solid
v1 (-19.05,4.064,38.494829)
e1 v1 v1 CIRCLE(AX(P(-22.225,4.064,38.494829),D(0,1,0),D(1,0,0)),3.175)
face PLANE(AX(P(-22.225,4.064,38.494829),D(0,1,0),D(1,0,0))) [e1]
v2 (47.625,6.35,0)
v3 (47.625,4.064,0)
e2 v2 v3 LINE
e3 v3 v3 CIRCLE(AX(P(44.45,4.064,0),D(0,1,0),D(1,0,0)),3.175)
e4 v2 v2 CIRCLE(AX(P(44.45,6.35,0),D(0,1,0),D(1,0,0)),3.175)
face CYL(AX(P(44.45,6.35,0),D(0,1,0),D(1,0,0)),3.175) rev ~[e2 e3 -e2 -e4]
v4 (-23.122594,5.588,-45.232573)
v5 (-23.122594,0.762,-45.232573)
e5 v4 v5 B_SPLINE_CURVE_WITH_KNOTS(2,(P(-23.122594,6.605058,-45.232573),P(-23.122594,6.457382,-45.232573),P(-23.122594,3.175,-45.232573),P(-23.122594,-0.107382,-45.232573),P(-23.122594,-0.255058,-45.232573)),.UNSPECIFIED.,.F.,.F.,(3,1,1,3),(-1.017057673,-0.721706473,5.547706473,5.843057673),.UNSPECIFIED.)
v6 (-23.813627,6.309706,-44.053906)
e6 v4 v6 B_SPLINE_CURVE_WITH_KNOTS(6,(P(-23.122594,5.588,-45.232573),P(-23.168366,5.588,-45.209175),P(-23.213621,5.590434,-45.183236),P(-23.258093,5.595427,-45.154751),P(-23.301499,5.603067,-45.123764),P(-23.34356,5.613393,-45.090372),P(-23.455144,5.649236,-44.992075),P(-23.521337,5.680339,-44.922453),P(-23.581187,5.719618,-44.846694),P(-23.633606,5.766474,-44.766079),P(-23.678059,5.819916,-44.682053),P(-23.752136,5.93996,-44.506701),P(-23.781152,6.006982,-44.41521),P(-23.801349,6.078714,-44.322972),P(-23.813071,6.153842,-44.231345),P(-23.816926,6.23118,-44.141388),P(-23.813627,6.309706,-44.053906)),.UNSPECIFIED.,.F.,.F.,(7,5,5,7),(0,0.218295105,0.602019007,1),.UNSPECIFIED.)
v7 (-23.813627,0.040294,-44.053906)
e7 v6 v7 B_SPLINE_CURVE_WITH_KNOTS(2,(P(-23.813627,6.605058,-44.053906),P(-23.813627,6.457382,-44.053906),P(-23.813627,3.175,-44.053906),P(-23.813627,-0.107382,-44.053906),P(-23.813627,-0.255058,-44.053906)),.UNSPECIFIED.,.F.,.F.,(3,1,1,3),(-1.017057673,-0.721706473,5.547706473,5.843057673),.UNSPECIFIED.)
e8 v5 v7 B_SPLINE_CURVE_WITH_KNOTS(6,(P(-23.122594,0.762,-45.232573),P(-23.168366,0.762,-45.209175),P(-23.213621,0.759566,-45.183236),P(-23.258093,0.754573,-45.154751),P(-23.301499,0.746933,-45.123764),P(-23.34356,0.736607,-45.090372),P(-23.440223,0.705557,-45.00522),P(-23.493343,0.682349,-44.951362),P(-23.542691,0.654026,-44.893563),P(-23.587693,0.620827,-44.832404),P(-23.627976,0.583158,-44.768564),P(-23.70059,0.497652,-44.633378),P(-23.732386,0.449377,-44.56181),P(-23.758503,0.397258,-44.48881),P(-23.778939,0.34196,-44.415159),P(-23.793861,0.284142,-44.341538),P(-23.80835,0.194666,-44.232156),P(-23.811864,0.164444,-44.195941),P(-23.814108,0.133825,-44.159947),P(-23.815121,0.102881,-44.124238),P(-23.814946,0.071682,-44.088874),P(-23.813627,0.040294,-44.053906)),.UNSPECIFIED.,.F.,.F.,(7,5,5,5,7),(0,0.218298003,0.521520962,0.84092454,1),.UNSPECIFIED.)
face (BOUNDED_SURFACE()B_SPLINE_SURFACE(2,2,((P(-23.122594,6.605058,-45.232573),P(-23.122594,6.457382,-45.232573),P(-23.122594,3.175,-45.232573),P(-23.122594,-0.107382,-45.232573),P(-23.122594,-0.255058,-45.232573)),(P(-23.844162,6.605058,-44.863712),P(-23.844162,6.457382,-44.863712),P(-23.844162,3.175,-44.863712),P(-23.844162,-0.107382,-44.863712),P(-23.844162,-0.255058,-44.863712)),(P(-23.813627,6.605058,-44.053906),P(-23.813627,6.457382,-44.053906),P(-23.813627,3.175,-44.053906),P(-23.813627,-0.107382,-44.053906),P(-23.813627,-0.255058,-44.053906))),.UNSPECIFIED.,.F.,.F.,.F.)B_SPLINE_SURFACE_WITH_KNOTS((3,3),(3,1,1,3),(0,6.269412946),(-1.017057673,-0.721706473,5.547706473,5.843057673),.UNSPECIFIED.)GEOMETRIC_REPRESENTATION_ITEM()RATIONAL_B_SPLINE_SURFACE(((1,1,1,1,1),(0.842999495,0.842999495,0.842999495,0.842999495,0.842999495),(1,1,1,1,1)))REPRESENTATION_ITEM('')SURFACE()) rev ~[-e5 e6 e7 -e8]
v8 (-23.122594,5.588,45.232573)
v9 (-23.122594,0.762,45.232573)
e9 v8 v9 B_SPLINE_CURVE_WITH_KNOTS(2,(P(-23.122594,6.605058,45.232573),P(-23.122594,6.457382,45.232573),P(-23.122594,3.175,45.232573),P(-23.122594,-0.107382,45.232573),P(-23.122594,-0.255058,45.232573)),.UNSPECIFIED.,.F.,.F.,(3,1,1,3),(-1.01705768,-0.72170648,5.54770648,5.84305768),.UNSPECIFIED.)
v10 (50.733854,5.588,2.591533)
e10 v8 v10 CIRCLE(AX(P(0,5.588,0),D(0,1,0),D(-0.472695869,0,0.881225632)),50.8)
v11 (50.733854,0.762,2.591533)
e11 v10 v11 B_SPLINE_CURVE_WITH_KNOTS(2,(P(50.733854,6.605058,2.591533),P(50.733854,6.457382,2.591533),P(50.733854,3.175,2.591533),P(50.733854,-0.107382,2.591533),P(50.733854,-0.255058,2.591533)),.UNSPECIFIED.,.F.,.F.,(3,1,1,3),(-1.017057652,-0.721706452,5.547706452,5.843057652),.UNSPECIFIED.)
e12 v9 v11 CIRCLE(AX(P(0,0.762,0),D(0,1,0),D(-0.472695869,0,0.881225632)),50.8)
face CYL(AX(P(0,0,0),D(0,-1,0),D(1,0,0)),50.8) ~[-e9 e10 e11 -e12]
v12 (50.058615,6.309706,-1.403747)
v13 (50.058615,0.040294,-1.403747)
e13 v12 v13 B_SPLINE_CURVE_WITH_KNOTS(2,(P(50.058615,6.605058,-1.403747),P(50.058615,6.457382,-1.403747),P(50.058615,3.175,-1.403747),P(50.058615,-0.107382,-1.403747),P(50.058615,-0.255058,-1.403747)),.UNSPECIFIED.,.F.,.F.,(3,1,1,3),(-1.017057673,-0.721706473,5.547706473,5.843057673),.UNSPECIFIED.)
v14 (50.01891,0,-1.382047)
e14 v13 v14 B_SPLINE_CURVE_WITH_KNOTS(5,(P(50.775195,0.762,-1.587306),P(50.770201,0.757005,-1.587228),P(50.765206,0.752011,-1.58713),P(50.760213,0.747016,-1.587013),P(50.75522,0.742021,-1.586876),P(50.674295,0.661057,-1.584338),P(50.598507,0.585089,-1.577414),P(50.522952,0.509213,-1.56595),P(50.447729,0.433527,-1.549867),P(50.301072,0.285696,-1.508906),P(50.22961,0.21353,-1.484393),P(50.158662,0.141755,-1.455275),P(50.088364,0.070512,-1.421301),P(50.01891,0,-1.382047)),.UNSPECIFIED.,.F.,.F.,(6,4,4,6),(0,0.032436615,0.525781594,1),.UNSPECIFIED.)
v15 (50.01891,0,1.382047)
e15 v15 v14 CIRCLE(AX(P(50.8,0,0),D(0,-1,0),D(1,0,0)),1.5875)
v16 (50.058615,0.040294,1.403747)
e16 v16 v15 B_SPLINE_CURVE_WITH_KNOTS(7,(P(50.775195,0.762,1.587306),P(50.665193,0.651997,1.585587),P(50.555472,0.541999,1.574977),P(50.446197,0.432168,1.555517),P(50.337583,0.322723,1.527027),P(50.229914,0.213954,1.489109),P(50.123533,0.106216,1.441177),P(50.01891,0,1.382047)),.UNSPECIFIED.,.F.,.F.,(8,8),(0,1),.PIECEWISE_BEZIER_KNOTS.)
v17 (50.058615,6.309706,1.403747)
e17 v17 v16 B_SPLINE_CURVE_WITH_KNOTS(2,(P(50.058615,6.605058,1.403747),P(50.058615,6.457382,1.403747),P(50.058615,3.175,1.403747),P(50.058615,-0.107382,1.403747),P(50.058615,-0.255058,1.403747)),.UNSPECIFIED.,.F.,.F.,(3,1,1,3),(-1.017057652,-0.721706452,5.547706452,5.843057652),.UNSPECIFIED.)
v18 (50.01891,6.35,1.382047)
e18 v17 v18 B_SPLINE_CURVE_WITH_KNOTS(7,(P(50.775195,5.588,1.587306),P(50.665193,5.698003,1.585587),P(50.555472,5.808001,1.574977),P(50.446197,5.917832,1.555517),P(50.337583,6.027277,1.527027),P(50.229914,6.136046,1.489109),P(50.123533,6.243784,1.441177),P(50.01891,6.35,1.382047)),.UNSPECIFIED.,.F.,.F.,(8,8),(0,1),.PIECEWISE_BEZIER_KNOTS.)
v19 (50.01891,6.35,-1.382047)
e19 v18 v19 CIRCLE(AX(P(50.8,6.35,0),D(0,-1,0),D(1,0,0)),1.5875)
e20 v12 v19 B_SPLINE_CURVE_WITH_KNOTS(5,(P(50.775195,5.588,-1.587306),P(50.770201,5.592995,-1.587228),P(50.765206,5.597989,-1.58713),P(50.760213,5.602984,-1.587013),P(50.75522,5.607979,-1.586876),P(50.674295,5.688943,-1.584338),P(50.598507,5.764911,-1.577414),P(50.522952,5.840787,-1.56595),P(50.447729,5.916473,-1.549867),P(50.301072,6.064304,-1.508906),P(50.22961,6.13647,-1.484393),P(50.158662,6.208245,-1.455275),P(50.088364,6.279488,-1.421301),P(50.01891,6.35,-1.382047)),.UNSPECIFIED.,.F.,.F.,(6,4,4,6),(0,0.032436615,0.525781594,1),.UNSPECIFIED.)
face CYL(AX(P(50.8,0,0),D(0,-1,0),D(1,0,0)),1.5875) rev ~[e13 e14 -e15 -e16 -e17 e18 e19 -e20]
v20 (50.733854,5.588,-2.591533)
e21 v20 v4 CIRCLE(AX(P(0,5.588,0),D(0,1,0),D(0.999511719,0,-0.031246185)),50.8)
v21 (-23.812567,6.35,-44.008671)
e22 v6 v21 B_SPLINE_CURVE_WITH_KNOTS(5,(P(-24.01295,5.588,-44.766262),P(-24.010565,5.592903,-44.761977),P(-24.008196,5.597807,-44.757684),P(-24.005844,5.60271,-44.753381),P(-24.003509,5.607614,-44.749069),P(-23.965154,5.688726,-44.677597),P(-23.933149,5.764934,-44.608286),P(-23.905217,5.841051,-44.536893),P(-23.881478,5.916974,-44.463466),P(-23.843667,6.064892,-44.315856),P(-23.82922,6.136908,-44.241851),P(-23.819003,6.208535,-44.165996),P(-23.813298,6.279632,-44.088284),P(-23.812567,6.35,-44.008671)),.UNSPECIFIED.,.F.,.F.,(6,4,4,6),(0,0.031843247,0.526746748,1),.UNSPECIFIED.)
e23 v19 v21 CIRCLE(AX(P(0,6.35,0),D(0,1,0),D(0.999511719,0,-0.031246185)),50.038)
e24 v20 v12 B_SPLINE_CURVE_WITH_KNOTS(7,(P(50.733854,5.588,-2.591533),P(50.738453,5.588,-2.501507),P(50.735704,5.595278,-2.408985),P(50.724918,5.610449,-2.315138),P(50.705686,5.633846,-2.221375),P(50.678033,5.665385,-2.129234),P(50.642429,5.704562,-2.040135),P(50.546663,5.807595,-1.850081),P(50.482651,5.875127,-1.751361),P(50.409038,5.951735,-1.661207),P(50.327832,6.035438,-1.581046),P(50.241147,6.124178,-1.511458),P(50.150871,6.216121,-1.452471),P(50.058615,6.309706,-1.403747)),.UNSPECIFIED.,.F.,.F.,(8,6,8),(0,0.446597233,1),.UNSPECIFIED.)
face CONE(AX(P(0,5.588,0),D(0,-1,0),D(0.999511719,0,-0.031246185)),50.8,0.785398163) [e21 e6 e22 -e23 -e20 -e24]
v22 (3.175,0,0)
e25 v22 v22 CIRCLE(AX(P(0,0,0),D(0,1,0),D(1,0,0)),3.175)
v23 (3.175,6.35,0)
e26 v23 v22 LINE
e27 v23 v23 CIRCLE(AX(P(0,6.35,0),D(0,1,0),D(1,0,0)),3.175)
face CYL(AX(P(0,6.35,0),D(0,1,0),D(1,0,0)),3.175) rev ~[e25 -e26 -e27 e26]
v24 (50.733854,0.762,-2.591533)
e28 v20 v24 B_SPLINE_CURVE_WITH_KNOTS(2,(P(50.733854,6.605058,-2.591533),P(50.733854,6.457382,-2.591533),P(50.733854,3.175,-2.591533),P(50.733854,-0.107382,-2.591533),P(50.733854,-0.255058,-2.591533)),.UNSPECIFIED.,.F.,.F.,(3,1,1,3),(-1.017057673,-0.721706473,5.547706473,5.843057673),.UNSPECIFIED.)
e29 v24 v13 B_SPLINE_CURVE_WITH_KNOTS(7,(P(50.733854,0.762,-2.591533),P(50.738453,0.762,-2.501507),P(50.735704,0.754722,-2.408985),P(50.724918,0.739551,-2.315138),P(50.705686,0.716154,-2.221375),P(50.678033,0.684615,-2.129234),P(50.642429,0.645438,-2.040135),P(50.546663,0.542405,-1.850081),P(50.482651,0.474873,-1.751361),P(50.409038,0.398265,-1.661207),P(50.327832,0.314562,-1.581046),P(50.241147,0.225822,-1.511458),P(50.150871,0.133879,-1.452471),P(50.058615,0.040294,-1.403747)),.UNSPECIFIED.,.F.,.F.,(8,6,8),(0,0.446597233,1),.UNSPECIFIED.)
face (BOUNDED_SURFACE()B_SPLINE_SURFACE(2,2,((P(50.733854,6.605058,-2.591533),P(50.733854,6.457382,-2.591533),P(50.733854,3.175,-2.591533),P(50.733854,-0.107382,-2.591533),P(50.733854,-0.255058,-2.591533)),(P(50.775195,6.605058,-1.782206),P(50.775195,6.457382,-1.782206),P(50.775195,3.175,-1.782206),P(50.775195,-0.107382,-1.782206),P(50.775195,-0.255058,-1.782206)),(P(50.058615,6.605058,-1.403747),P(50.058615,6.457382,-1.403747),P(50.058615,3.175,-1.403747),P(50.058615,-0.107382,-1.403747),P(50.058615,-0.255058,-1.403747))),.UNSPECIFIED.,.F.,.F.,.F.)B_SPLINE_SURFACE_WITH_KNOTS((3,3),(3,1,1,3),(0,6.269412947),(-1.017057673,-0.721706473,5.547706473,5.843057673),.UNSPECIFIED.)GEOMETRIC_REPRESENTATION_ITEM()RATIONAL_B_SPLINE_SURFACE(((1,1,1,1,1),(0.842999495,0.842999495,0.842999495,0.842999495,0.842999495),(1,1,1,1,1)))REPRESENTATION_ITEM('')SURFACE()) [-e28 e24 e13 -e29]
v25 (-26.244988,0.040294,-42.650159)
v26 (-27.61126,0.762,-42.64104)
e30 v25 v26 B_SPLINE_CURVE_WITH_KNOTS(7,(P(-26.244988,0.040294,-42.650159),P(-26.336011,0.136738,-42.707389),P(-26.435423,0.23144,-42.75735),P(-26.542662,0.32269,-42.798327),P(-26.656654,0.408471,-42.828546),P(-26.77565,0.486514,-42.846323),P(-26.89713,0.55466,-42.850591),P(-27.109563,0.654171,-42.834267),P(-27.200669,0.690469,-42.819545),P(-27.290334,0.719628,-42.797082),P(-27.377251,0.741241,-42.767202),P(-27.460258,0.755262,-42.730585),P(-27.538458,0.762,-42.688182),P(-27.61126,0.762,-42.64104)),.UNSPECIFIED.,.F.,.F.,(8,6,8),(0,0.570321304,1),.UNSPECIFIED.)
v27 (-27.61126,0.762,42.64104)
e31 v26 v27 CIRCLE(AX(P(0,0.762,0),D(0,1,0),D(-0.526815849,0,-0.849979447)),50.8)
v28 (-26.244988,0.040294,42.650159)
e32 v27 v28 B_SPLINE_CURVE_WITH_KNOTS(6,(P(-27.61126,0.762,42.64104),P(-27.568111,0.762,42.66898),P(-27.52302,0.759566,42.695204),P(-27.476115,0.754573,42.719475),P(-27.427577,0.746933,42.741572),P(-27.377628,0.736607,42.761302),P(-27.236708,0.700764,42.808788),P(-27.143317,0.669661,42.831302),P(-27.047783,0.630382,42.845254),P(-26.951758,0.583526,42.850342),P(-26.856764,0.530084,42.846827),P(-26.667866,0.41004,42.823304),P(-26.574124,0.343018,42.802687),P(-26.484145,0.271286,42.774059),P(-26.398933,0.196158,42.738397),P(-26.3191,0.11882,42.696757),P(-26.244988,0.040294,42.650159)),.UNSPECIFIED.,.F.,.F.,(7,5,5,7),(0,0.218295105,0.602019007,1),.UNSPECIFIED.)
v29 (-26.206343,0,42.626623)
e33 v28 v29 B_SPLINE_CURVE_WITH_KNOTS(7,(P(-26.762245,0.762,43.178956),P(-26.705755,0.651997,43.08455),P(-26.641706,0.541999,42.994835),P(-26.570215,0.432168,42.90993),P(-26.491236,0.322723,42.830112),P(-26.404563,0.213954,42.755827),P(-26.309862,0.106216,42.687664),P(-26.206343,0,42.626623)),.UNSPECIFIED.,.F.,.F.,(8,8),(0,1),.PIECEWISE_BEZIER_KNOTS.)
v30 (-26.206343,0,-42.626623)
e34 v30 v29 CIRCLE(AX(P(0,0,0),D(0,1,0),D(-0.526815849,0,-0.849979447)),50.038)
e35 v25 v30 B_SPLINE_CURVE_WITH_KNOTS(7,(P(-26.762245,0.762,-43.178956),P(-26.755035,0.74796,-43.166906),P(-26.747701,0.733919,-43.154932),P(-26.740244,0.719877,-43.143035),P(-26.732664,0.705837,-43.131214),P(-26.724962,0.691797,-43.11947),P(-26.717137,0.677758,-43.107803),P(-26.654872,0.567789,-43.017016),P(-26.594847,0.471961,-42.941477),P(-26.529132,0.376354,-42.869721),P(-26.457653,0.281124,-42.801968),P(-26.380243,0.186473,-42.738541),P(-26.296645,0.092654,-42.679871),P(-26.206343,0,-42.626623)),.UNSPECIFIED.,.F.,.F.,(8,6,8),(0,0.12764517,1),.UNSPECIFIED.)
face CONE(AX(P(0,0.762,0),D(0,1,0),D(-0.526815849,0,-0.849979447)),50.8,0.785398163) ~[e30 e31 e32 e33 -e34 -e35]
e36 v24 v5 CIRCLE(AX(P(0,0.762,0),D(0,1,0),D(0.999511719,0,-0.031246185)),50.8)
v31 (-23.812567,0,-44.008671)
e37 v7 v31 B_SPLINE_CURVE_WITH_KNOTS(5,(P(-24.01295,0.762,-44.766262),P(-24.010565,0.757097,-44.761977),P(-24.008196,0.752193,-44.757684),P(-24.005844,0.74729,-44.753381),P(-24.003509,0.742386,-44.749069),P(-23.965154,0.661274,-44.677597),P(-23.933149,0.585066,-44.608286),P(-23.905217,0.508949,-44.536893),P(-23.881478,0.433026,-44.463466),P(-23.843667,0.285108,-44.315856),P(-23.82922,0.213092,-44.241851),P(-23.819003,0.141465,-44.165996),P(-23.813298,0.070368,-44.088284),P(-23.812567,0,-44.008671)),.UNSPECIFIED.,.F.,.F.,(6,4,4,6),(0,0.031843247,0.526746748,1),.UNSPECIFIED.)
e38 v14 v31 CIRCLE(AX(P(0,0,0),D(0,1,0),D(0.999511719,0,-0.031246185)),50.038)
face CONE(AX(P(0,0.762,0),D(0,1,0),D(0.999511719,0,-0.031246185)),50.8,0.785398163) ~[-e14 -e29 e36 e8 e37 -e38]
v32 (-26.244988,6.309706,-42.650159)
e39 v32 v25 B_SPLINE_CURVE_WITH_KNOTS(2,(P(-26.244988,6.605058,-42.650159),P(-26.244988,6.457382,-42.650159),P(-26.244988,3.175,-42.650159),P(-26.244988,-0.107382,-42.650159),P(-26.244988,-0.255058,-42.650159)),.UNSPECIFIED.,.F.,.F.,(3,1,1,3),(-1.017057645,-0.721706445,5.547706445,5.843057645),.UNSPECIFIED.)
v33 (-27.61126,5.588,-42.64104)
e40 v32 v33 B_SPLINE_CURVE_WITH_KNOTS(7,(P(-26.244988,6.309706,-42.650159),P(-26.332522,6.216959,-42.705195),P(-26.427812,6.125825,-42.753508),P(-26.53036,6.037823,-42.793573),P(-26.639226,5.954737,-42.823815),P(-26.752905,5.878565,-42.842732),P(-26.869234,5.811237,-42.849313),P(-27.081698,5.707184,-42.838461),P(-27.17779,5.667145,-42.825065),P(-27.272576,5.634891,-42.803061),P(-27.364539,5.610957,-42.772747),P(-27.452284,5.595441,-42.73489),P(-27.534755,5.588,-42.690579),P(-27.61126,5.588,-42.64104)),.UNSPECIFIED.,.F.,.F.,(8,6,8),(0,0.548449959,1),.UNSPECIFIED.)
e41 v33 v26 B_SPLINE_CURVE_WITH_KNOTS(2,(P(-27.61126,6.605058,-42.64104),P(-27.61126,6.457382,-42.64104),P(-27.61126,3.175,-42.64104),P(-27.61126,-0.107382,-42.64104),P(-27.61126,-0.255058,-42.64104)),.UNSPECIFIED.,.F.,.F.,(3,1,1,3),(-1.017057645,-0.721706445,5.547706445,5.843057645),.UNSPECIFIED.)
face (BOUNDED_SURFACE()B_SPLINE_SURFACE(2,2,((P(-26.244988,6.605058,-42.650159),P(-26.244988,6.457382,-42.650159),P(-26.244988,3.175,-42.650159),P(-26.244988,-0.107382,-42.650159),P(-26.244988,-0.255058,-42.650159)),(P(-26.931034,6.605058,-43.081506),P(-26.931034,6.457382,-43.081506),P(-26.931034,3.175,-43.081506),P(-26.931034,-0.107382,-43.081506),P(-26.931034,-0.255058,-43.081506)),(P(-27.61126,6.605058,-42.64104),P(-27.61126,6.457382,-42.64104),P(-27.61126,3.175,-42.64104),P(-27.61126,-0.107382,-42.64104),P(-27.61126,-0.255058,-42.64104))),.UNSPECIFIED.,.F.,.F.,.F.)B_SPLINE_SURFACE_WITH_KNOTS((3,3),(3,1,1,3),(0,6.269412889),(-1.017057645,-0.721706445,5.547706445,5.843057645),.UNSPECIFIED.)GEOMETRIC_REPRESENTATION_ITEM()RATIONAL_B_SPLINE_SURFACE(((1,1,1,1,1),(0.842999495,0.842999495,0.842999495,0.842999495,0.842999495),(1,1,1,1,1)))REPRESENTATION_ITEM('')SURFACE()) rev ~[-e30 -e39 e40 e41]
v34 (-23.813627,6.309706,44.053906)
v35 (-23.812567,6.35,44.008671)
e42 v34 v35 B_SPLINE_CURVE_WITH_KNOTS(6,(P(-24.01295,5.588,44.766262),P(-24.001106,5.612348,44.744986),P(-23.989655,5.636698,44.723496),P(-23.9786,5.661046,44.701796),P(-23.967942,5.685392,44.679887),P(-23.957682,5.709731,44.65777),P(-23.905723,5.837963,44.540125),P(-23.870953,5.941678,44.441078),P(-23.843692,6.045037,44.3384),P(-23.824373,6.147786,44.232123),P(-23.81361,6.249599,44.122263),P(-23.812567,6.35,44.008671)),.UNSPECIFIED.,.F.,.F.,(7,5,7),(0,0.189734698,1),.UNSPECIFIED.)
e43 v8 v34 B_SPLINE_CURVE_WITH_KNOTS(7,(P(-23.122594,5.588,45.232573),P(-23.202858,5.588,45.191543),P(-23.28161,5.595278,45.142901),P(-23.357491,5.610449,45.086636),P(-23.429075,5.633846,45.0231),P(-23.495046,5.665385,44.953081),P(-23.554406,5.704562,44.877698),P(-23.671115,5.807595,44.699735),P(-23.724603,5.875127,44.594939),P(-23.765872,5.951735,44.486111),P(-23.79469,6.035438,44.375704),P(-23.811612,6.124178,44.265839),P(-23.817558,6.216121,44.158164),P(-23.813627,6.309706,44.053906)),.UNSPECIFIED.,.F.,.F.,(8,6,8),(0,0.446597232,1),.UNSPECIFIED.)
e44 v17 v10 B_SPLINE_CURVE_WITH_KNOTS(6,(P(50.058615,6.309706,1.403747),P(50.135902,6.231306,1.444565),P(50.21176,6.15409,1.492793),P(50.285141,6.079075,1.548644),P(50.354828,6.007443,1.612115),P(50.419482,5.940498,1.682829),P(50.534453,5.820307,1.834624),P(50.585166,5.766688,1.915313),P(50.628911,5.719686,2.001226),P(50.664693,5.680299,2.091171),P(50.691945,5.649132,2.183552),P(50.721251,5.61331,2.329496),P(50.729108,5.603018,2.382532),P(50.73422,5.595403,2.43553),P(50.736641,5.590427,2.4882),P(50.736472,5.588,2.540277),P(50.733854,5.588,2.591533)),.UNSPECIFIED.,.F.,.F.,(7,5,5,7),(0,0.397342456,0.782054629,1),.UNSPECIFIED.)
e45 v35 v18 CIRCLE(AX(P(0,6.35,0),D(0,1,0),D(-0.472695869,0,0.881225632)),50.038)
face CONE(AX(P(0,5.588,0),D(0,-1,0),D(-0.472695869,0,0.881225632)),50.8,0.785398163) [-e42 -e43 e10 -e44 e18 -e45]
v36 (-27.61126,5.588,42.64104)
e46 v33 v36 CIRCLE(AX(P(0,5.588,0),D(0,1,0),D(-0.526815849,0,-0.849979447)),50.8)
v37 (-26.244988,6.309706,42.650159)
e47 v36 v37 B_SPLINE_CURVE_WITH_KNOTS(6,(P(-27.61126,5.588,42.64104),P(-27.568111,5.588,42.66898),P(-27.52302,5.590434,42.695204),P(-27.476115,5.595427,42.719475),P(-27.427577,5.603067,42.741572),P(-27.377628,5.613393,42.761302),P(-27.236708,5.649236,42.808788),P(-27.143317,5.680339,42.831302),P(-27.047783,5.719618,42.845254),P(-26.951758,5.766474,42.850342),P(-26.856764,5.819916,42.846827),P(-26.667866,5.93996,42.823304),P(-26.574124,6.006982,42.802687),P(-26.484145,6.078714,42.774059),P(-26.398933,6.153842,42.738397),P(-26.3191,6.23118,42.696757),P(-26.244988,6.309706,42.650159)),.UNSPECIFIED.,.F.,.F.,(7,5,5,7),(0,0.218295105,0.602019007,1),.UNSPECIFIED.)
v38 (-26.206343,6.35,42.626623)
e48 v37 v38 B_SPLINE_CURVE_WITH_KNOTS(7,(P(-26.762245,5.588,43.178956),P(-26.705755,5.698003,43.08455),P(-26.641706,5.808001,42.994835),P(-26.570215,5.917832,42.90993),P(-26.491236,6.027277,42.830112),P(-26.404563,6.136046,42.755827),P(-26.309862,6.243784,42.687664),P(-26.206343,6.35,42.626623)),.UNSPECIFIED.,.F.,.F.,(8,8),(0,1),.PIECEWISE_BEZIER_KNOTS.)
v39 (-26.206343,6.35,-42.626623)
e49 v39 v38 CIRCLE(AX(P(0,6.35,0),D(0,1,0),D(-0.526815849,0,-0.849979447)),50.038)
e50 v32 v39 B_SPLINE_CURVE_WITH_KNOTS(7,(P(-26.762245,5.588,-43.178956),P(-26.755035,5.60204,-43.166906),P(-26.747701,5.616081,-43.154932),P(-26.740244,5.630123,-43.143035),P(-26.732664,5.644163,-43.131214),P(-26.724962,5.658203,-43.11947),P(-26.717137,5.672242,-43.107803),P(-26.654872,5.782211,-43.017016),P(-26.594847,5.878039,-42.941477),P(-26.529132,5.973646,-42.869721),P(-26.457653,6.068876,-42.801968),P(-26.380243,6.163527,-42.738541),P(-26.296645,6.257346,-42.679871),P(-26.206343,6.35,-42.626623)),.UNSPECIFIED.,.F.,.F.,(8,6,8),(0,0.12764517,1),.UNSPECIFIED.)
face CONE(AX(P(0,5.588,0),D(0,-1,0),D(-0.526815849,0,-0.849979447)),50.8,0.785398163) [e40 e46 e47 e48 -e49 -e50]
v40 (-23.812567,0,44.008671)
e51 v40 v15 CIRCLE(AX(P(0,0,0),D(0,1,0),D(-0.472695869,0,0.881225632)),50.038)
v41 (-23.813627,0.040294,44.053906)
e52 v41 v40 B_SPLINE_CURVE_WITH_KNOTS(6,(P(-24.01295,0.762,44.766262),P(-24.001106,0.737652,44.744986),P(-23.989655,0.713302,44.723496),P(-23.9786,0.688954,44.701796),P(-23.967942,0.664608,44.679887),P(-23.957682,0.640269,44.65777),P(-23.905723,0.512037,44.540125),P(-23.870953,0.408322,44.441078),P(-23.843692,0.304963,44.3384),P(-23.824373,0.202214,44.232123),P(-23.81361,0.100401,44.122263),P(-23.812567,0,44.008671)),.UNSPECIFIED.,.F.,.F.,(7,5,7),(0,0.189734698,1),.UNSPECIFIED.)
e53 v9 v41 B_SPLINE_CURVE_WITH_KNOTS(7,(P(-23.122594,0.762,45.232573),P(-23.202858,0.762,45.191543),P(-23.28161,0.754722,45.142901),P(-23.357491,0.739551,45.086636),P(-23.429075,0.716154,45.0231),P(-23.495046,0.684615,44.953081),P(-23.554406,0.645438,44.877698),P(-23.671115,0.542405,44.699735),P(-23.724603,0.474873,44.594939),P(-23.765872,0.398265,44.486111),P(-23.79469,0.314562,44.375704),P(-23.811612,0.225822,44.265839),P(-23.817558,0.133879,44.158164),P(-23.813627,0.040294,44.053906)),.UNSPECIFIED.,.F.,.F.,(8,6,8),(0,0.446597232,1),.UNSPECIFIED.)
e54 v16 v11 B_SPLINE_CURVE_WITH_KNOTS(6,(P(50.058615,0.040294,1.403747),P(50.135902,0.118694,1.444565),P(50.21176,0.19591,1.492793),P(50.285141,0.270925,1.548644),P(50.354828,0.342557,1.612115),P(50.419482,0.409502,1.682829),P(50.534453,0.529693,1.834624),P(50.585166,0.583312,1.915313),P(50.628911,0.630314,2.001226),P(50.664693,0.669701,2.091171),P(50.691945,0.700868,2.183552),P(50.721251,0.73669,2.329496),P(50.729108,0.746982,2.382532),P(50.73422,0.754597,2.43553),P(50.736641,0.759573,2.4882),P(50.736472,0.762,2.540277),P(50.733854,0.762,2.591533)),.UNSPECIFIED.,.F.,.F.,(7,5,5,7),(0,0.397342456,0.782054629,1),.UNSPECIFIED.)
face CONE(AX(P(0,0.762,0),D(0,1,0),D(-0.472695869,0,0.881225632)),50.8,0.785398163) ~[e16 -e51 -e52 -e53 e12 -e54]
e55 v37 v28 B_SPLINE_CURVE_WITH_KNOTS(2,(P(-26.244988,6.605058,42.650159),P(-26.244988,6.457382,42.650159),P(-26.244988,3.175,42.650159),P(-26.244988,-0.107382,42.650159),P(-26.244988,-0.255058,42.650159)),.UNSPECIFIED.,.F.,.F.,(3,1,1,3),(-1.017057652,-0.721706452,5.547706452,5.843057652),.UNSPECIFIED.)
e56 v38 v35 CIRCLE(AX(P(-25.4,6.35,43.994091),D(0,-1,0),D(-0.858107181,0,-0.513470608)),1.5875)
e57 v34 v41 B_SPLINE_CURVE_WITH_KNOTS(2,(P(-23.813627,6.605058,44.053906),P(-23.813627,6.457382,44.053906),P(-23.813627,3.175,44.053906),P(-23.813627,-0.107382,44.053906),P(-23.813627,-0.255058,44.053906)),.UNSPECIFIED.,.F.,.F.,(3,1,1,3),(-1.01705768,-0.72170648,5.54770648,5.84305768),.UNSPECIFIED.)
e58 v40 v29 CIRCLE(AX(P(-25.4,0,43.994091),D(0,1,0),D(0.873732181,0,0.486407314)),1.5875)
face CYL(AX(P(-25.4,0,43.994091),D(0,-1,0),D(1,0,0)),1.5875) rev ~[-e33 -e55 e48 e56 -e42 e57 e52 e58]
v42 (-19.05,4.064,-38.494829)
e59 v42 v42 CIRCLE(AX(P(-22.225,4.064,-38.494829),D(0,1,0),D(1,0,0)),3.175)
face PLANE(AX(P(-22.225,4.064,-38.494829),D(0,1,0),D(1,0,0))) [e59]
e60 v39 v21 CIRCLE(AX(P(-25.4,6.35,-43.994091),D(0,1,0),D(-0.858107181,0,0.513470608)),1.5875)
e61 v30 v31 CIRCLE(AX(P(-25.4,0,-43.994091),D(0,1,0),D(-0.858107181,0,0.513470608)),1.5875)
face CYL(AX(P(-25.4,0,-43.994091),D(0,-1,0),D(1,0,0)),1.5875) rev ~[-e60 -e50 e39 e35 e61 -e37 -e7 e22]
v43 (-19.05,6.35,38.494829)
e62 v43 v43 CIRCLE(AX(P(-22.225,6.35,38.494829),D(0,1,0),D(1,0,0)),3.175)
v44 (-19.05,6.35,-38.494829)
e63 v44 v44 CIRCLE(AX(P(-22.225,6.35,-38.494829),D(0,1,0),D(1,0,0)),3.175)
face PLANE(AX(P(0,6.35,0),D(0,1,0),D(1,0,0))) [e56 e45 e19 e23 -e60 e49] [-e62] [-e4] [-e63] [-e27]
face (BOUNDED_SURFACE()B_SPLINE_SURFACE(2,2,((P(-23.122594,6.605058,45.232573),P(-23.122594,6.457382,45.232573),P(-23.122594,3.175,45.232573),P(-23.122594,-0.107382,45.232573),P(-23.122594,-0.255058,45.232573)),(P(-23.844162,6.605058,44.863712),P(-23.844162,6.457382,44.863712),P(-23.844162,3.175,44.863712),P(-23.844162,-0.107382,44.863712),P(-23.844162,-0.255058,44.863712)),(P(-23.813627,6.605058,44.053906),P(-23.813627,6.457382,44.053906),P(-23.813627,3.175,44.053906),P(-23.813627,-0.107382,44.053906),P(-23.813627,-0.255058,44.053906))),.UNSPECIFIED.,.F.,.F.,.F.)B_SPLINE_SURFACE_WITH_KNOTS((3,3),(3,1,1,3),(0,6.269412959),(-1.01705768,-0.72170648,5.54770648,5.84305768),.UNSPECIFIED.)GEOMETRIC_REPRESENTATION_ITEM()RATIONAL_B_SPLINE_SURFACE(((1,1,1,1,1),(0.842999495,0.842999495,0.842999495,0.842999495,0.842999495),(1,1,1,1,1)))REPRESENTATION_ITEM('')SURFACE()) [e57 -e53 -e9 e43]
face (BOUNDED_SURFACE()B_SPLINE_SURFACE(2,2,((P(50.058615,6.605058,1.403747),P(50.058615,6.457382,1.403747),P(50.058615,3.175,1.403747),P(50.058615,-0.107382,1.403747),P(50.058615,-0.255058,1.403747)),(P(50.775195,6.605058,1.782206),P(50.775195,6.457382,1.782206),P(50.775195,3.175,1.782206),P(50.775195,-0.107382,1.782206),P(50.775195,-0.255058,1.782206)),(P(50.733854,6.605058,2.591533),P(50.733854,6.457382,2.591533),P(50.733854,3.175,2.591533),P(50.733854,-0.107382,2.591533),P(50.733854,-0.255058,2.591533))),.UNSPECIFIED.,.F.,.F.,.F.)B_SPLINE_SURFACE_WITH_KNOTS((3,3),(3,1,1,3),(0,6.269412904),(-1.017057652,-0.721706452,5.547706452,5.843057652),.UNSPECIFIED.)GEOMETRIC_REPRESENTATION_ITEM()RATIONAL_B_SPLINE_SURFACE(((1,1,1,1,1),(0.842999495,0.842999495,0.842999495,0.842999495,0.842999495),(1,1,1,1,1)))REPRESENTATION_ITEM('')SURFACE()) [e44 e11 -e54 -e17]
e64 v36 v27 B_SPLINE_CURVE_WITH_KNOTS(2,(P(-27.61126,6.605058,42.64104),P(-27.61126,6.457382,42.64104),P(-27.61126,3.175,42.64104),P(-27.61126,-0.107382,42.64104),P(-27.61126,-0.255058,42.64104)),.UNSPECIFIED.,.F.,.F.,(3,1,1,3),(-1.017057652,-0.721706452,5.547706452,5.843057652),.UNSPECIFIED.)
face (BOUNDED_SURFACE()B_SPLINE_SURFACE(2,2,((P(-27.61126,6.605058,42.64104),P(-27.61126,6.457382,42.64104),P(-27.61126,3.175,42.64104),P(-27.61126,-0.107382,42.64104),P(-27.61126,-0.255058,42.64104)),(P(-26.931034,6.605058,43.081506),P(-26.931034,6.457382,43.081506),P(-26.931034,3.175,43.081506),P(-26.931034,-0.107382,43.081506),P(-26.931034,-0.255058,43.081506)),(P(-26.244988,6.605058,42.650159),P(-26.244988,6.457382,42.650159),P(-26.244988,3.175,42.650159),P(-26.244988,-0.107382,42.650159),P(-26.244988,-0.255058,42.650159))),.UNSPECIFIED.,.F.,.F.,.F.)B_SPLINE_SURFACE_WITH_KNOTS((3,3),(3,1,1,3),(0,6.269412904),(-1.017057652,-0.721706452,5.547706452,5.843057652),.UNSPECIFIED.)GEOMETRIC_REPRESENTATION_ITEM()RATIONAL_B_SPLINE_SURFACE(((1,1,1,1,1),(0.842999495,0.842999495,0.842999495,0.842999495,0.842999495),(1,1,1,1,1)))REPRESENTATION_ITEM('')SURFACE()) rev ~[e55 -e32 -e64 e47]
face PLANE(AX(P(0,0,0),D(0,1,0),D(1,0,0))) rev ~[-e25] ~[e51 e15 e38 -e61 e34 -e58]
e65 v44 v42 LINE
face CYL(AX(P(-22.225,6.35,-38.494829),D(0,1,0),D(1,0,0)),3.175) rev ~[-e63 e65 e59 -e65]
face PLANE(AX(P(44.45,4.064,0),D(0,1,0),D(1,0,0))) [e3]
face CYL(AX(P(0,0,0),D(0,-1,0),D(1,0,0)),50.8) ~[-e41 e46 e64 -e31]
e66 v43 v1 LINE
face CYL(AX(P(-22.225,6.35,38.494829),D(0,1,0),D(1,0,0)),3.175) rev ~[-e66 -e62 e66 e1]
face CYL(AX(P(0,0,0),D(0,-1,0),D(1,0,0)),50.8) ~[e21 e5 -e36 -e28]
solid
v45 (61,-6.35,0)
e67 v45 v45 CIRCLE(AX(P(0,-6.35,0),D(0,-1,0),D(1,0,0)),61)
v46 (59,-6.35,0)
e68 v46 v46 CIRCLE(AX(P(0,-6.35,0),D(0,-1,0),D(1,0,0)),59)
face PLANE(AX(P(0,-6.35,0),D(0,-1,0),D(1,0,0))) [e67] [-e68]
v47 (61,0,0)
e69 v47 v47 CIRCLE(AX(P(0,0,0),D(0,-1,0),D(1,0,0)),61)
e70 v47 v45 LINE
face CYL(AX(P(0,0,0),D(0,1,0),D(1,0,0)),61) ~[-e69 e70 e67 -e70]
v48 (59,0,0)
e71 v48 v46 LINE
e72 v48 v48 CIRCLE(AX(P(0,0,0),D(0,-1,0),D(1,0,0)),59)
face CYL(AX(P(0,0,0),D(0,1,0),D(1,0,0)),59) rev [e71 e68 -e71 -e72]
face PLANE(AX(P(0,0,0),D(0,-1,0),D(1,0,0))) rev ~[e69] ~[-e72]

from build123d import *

# Parameters (mm, degrees)
SKETCH1_R               = 50.8
BOSS_EXTRUDE1_DEPTH     = 6.35
SKETCH2_R               = 3.175
CUT_EXTRUDE1_DEPTH      = 2.286
SKETCH3_R               = 3.175
CUT_EXTRUDE2_DEPTH      = 1
CUT_EXTRUDE2_DEPTH_BACK = 7.35
SKETCH4_R               = 1.5875
CUT_EXTRUDE3_DEPTH      = 7.35
CHAMFER1_SIZE           = 0.762
FILLET1_R               = 1.27
SKETCH5_R               = 61
SKETCH5_R_2             = 59
BOSS_EXTRUDE2_DEPTH     = 6.35


with BuildPart() as part:
    # Sketch1 → Boss-Extrude1 (new body)
    with BuildSketch(Plane(origin=(0, 0, 0), x_dir=(1, 0, 0), z_dir=(0, 1, 0))):
        Circle(SKETCH1_R)
    extrude(amount=BOSS_EXTRUDE1_DEPTH)

    # Sketch2 → Cut-Extrude1 (cut)
    with BuildSketch(Plane(origin=(0, 6.35, 0), x_dir=(1, 0, 0), z_dir=(0, 1, 0))):
        with Locations((-22.225, -38.494829198)):
            Circle(SKETCH2_R)
        with Locations((-22.225, 38.494829198)):
            Circle(SKETCH2_R)
        with Locations((44.45, 0)):
            Circle(SKETCH2_R)
    extrude(amount=-CUT_EXTRUDE1_DEPTH, mode=Mode.SUBTRACT)

    # Sketch3 → Cut-Extrude2 (cut, two sides)
    with BuildSketch(Plane(origin=(0, 6.35, 0), x_dir=(1, 0, 0), z_dir=(0, 1, 0))) as cut_extrude2_sk:
        Circle(SKETCH3_R)
    extrude(amount=CUT_EXTRUDE2_DEPTH, mode=Mode.SUBTRACT)
    extrude(cut_extrude2_sk.sketch, amount=-CUT_EXTRUDE2_DEPTH_BACK, mode=Mode.SUBTRACT)

    # Sketch4 → Cut-Extrude3 (cut, through all)
    with BuildSketch(Plane.XZ):
        with Locations((50.8, 0)):
            Circle(SKETCH4_R)
        with Locations((-25.4, 43.994090512)):
            Circle(SKETCH4_R)
        with Locations((-25.4, -43.994090512)):
            Circle(SKETCH4_R)
    extrude(amount=-CUT_EXTRUDE3_DEPTH, mode=Mode.SUBTRACT)

    # Chamfer1
    chamfer1_edges = [part.edges().sort_by_distance(p)[0] for p in [
        (25.4, 0, -43.994090512),
        (-50.8, 0, 0),
        (25.4, 0, 43.994090512),
        (25.4, 6.35, -43.994090512),
        (-50.8, 6.35, 0),
        (25.4, 6.35, 43.994090512),
    ]]
    chamfer(chamfer1_edges, length=CHAMFER1_SIZE)

    # Fillet1
    fillet1_edges = [part.edges().sort_by_distance(p)[0] for p in [
        (-24.012950162, 3.175, 44.766262124),
        (-26.76224515, 3.175, 43.178955922),
        (50.775195313, 3.175, -1.587306202),
        (50.775195313, 3.175, 1.587306202),
        (-24.012950162, 3.175, -44.766262124),
        (-26.76224515, 3.175, -43.178955922),
    ]]
    fillet(fillet1_edges, radius=FILLET1_R)


with BuildPart() as body_2:
    # Sketch5 → Boss-Extrude2 (new body)
    with BuildSketch(Plane.XZ):
        Circle(SKETCH5_R)
        Circle(SKETCH5_R_2, mode=Mode.SUBTRACT)
    extrude(amount=BOSS_EXTRUDE2_DEPTH)


solid = Compound([part.part, body_2.part])
